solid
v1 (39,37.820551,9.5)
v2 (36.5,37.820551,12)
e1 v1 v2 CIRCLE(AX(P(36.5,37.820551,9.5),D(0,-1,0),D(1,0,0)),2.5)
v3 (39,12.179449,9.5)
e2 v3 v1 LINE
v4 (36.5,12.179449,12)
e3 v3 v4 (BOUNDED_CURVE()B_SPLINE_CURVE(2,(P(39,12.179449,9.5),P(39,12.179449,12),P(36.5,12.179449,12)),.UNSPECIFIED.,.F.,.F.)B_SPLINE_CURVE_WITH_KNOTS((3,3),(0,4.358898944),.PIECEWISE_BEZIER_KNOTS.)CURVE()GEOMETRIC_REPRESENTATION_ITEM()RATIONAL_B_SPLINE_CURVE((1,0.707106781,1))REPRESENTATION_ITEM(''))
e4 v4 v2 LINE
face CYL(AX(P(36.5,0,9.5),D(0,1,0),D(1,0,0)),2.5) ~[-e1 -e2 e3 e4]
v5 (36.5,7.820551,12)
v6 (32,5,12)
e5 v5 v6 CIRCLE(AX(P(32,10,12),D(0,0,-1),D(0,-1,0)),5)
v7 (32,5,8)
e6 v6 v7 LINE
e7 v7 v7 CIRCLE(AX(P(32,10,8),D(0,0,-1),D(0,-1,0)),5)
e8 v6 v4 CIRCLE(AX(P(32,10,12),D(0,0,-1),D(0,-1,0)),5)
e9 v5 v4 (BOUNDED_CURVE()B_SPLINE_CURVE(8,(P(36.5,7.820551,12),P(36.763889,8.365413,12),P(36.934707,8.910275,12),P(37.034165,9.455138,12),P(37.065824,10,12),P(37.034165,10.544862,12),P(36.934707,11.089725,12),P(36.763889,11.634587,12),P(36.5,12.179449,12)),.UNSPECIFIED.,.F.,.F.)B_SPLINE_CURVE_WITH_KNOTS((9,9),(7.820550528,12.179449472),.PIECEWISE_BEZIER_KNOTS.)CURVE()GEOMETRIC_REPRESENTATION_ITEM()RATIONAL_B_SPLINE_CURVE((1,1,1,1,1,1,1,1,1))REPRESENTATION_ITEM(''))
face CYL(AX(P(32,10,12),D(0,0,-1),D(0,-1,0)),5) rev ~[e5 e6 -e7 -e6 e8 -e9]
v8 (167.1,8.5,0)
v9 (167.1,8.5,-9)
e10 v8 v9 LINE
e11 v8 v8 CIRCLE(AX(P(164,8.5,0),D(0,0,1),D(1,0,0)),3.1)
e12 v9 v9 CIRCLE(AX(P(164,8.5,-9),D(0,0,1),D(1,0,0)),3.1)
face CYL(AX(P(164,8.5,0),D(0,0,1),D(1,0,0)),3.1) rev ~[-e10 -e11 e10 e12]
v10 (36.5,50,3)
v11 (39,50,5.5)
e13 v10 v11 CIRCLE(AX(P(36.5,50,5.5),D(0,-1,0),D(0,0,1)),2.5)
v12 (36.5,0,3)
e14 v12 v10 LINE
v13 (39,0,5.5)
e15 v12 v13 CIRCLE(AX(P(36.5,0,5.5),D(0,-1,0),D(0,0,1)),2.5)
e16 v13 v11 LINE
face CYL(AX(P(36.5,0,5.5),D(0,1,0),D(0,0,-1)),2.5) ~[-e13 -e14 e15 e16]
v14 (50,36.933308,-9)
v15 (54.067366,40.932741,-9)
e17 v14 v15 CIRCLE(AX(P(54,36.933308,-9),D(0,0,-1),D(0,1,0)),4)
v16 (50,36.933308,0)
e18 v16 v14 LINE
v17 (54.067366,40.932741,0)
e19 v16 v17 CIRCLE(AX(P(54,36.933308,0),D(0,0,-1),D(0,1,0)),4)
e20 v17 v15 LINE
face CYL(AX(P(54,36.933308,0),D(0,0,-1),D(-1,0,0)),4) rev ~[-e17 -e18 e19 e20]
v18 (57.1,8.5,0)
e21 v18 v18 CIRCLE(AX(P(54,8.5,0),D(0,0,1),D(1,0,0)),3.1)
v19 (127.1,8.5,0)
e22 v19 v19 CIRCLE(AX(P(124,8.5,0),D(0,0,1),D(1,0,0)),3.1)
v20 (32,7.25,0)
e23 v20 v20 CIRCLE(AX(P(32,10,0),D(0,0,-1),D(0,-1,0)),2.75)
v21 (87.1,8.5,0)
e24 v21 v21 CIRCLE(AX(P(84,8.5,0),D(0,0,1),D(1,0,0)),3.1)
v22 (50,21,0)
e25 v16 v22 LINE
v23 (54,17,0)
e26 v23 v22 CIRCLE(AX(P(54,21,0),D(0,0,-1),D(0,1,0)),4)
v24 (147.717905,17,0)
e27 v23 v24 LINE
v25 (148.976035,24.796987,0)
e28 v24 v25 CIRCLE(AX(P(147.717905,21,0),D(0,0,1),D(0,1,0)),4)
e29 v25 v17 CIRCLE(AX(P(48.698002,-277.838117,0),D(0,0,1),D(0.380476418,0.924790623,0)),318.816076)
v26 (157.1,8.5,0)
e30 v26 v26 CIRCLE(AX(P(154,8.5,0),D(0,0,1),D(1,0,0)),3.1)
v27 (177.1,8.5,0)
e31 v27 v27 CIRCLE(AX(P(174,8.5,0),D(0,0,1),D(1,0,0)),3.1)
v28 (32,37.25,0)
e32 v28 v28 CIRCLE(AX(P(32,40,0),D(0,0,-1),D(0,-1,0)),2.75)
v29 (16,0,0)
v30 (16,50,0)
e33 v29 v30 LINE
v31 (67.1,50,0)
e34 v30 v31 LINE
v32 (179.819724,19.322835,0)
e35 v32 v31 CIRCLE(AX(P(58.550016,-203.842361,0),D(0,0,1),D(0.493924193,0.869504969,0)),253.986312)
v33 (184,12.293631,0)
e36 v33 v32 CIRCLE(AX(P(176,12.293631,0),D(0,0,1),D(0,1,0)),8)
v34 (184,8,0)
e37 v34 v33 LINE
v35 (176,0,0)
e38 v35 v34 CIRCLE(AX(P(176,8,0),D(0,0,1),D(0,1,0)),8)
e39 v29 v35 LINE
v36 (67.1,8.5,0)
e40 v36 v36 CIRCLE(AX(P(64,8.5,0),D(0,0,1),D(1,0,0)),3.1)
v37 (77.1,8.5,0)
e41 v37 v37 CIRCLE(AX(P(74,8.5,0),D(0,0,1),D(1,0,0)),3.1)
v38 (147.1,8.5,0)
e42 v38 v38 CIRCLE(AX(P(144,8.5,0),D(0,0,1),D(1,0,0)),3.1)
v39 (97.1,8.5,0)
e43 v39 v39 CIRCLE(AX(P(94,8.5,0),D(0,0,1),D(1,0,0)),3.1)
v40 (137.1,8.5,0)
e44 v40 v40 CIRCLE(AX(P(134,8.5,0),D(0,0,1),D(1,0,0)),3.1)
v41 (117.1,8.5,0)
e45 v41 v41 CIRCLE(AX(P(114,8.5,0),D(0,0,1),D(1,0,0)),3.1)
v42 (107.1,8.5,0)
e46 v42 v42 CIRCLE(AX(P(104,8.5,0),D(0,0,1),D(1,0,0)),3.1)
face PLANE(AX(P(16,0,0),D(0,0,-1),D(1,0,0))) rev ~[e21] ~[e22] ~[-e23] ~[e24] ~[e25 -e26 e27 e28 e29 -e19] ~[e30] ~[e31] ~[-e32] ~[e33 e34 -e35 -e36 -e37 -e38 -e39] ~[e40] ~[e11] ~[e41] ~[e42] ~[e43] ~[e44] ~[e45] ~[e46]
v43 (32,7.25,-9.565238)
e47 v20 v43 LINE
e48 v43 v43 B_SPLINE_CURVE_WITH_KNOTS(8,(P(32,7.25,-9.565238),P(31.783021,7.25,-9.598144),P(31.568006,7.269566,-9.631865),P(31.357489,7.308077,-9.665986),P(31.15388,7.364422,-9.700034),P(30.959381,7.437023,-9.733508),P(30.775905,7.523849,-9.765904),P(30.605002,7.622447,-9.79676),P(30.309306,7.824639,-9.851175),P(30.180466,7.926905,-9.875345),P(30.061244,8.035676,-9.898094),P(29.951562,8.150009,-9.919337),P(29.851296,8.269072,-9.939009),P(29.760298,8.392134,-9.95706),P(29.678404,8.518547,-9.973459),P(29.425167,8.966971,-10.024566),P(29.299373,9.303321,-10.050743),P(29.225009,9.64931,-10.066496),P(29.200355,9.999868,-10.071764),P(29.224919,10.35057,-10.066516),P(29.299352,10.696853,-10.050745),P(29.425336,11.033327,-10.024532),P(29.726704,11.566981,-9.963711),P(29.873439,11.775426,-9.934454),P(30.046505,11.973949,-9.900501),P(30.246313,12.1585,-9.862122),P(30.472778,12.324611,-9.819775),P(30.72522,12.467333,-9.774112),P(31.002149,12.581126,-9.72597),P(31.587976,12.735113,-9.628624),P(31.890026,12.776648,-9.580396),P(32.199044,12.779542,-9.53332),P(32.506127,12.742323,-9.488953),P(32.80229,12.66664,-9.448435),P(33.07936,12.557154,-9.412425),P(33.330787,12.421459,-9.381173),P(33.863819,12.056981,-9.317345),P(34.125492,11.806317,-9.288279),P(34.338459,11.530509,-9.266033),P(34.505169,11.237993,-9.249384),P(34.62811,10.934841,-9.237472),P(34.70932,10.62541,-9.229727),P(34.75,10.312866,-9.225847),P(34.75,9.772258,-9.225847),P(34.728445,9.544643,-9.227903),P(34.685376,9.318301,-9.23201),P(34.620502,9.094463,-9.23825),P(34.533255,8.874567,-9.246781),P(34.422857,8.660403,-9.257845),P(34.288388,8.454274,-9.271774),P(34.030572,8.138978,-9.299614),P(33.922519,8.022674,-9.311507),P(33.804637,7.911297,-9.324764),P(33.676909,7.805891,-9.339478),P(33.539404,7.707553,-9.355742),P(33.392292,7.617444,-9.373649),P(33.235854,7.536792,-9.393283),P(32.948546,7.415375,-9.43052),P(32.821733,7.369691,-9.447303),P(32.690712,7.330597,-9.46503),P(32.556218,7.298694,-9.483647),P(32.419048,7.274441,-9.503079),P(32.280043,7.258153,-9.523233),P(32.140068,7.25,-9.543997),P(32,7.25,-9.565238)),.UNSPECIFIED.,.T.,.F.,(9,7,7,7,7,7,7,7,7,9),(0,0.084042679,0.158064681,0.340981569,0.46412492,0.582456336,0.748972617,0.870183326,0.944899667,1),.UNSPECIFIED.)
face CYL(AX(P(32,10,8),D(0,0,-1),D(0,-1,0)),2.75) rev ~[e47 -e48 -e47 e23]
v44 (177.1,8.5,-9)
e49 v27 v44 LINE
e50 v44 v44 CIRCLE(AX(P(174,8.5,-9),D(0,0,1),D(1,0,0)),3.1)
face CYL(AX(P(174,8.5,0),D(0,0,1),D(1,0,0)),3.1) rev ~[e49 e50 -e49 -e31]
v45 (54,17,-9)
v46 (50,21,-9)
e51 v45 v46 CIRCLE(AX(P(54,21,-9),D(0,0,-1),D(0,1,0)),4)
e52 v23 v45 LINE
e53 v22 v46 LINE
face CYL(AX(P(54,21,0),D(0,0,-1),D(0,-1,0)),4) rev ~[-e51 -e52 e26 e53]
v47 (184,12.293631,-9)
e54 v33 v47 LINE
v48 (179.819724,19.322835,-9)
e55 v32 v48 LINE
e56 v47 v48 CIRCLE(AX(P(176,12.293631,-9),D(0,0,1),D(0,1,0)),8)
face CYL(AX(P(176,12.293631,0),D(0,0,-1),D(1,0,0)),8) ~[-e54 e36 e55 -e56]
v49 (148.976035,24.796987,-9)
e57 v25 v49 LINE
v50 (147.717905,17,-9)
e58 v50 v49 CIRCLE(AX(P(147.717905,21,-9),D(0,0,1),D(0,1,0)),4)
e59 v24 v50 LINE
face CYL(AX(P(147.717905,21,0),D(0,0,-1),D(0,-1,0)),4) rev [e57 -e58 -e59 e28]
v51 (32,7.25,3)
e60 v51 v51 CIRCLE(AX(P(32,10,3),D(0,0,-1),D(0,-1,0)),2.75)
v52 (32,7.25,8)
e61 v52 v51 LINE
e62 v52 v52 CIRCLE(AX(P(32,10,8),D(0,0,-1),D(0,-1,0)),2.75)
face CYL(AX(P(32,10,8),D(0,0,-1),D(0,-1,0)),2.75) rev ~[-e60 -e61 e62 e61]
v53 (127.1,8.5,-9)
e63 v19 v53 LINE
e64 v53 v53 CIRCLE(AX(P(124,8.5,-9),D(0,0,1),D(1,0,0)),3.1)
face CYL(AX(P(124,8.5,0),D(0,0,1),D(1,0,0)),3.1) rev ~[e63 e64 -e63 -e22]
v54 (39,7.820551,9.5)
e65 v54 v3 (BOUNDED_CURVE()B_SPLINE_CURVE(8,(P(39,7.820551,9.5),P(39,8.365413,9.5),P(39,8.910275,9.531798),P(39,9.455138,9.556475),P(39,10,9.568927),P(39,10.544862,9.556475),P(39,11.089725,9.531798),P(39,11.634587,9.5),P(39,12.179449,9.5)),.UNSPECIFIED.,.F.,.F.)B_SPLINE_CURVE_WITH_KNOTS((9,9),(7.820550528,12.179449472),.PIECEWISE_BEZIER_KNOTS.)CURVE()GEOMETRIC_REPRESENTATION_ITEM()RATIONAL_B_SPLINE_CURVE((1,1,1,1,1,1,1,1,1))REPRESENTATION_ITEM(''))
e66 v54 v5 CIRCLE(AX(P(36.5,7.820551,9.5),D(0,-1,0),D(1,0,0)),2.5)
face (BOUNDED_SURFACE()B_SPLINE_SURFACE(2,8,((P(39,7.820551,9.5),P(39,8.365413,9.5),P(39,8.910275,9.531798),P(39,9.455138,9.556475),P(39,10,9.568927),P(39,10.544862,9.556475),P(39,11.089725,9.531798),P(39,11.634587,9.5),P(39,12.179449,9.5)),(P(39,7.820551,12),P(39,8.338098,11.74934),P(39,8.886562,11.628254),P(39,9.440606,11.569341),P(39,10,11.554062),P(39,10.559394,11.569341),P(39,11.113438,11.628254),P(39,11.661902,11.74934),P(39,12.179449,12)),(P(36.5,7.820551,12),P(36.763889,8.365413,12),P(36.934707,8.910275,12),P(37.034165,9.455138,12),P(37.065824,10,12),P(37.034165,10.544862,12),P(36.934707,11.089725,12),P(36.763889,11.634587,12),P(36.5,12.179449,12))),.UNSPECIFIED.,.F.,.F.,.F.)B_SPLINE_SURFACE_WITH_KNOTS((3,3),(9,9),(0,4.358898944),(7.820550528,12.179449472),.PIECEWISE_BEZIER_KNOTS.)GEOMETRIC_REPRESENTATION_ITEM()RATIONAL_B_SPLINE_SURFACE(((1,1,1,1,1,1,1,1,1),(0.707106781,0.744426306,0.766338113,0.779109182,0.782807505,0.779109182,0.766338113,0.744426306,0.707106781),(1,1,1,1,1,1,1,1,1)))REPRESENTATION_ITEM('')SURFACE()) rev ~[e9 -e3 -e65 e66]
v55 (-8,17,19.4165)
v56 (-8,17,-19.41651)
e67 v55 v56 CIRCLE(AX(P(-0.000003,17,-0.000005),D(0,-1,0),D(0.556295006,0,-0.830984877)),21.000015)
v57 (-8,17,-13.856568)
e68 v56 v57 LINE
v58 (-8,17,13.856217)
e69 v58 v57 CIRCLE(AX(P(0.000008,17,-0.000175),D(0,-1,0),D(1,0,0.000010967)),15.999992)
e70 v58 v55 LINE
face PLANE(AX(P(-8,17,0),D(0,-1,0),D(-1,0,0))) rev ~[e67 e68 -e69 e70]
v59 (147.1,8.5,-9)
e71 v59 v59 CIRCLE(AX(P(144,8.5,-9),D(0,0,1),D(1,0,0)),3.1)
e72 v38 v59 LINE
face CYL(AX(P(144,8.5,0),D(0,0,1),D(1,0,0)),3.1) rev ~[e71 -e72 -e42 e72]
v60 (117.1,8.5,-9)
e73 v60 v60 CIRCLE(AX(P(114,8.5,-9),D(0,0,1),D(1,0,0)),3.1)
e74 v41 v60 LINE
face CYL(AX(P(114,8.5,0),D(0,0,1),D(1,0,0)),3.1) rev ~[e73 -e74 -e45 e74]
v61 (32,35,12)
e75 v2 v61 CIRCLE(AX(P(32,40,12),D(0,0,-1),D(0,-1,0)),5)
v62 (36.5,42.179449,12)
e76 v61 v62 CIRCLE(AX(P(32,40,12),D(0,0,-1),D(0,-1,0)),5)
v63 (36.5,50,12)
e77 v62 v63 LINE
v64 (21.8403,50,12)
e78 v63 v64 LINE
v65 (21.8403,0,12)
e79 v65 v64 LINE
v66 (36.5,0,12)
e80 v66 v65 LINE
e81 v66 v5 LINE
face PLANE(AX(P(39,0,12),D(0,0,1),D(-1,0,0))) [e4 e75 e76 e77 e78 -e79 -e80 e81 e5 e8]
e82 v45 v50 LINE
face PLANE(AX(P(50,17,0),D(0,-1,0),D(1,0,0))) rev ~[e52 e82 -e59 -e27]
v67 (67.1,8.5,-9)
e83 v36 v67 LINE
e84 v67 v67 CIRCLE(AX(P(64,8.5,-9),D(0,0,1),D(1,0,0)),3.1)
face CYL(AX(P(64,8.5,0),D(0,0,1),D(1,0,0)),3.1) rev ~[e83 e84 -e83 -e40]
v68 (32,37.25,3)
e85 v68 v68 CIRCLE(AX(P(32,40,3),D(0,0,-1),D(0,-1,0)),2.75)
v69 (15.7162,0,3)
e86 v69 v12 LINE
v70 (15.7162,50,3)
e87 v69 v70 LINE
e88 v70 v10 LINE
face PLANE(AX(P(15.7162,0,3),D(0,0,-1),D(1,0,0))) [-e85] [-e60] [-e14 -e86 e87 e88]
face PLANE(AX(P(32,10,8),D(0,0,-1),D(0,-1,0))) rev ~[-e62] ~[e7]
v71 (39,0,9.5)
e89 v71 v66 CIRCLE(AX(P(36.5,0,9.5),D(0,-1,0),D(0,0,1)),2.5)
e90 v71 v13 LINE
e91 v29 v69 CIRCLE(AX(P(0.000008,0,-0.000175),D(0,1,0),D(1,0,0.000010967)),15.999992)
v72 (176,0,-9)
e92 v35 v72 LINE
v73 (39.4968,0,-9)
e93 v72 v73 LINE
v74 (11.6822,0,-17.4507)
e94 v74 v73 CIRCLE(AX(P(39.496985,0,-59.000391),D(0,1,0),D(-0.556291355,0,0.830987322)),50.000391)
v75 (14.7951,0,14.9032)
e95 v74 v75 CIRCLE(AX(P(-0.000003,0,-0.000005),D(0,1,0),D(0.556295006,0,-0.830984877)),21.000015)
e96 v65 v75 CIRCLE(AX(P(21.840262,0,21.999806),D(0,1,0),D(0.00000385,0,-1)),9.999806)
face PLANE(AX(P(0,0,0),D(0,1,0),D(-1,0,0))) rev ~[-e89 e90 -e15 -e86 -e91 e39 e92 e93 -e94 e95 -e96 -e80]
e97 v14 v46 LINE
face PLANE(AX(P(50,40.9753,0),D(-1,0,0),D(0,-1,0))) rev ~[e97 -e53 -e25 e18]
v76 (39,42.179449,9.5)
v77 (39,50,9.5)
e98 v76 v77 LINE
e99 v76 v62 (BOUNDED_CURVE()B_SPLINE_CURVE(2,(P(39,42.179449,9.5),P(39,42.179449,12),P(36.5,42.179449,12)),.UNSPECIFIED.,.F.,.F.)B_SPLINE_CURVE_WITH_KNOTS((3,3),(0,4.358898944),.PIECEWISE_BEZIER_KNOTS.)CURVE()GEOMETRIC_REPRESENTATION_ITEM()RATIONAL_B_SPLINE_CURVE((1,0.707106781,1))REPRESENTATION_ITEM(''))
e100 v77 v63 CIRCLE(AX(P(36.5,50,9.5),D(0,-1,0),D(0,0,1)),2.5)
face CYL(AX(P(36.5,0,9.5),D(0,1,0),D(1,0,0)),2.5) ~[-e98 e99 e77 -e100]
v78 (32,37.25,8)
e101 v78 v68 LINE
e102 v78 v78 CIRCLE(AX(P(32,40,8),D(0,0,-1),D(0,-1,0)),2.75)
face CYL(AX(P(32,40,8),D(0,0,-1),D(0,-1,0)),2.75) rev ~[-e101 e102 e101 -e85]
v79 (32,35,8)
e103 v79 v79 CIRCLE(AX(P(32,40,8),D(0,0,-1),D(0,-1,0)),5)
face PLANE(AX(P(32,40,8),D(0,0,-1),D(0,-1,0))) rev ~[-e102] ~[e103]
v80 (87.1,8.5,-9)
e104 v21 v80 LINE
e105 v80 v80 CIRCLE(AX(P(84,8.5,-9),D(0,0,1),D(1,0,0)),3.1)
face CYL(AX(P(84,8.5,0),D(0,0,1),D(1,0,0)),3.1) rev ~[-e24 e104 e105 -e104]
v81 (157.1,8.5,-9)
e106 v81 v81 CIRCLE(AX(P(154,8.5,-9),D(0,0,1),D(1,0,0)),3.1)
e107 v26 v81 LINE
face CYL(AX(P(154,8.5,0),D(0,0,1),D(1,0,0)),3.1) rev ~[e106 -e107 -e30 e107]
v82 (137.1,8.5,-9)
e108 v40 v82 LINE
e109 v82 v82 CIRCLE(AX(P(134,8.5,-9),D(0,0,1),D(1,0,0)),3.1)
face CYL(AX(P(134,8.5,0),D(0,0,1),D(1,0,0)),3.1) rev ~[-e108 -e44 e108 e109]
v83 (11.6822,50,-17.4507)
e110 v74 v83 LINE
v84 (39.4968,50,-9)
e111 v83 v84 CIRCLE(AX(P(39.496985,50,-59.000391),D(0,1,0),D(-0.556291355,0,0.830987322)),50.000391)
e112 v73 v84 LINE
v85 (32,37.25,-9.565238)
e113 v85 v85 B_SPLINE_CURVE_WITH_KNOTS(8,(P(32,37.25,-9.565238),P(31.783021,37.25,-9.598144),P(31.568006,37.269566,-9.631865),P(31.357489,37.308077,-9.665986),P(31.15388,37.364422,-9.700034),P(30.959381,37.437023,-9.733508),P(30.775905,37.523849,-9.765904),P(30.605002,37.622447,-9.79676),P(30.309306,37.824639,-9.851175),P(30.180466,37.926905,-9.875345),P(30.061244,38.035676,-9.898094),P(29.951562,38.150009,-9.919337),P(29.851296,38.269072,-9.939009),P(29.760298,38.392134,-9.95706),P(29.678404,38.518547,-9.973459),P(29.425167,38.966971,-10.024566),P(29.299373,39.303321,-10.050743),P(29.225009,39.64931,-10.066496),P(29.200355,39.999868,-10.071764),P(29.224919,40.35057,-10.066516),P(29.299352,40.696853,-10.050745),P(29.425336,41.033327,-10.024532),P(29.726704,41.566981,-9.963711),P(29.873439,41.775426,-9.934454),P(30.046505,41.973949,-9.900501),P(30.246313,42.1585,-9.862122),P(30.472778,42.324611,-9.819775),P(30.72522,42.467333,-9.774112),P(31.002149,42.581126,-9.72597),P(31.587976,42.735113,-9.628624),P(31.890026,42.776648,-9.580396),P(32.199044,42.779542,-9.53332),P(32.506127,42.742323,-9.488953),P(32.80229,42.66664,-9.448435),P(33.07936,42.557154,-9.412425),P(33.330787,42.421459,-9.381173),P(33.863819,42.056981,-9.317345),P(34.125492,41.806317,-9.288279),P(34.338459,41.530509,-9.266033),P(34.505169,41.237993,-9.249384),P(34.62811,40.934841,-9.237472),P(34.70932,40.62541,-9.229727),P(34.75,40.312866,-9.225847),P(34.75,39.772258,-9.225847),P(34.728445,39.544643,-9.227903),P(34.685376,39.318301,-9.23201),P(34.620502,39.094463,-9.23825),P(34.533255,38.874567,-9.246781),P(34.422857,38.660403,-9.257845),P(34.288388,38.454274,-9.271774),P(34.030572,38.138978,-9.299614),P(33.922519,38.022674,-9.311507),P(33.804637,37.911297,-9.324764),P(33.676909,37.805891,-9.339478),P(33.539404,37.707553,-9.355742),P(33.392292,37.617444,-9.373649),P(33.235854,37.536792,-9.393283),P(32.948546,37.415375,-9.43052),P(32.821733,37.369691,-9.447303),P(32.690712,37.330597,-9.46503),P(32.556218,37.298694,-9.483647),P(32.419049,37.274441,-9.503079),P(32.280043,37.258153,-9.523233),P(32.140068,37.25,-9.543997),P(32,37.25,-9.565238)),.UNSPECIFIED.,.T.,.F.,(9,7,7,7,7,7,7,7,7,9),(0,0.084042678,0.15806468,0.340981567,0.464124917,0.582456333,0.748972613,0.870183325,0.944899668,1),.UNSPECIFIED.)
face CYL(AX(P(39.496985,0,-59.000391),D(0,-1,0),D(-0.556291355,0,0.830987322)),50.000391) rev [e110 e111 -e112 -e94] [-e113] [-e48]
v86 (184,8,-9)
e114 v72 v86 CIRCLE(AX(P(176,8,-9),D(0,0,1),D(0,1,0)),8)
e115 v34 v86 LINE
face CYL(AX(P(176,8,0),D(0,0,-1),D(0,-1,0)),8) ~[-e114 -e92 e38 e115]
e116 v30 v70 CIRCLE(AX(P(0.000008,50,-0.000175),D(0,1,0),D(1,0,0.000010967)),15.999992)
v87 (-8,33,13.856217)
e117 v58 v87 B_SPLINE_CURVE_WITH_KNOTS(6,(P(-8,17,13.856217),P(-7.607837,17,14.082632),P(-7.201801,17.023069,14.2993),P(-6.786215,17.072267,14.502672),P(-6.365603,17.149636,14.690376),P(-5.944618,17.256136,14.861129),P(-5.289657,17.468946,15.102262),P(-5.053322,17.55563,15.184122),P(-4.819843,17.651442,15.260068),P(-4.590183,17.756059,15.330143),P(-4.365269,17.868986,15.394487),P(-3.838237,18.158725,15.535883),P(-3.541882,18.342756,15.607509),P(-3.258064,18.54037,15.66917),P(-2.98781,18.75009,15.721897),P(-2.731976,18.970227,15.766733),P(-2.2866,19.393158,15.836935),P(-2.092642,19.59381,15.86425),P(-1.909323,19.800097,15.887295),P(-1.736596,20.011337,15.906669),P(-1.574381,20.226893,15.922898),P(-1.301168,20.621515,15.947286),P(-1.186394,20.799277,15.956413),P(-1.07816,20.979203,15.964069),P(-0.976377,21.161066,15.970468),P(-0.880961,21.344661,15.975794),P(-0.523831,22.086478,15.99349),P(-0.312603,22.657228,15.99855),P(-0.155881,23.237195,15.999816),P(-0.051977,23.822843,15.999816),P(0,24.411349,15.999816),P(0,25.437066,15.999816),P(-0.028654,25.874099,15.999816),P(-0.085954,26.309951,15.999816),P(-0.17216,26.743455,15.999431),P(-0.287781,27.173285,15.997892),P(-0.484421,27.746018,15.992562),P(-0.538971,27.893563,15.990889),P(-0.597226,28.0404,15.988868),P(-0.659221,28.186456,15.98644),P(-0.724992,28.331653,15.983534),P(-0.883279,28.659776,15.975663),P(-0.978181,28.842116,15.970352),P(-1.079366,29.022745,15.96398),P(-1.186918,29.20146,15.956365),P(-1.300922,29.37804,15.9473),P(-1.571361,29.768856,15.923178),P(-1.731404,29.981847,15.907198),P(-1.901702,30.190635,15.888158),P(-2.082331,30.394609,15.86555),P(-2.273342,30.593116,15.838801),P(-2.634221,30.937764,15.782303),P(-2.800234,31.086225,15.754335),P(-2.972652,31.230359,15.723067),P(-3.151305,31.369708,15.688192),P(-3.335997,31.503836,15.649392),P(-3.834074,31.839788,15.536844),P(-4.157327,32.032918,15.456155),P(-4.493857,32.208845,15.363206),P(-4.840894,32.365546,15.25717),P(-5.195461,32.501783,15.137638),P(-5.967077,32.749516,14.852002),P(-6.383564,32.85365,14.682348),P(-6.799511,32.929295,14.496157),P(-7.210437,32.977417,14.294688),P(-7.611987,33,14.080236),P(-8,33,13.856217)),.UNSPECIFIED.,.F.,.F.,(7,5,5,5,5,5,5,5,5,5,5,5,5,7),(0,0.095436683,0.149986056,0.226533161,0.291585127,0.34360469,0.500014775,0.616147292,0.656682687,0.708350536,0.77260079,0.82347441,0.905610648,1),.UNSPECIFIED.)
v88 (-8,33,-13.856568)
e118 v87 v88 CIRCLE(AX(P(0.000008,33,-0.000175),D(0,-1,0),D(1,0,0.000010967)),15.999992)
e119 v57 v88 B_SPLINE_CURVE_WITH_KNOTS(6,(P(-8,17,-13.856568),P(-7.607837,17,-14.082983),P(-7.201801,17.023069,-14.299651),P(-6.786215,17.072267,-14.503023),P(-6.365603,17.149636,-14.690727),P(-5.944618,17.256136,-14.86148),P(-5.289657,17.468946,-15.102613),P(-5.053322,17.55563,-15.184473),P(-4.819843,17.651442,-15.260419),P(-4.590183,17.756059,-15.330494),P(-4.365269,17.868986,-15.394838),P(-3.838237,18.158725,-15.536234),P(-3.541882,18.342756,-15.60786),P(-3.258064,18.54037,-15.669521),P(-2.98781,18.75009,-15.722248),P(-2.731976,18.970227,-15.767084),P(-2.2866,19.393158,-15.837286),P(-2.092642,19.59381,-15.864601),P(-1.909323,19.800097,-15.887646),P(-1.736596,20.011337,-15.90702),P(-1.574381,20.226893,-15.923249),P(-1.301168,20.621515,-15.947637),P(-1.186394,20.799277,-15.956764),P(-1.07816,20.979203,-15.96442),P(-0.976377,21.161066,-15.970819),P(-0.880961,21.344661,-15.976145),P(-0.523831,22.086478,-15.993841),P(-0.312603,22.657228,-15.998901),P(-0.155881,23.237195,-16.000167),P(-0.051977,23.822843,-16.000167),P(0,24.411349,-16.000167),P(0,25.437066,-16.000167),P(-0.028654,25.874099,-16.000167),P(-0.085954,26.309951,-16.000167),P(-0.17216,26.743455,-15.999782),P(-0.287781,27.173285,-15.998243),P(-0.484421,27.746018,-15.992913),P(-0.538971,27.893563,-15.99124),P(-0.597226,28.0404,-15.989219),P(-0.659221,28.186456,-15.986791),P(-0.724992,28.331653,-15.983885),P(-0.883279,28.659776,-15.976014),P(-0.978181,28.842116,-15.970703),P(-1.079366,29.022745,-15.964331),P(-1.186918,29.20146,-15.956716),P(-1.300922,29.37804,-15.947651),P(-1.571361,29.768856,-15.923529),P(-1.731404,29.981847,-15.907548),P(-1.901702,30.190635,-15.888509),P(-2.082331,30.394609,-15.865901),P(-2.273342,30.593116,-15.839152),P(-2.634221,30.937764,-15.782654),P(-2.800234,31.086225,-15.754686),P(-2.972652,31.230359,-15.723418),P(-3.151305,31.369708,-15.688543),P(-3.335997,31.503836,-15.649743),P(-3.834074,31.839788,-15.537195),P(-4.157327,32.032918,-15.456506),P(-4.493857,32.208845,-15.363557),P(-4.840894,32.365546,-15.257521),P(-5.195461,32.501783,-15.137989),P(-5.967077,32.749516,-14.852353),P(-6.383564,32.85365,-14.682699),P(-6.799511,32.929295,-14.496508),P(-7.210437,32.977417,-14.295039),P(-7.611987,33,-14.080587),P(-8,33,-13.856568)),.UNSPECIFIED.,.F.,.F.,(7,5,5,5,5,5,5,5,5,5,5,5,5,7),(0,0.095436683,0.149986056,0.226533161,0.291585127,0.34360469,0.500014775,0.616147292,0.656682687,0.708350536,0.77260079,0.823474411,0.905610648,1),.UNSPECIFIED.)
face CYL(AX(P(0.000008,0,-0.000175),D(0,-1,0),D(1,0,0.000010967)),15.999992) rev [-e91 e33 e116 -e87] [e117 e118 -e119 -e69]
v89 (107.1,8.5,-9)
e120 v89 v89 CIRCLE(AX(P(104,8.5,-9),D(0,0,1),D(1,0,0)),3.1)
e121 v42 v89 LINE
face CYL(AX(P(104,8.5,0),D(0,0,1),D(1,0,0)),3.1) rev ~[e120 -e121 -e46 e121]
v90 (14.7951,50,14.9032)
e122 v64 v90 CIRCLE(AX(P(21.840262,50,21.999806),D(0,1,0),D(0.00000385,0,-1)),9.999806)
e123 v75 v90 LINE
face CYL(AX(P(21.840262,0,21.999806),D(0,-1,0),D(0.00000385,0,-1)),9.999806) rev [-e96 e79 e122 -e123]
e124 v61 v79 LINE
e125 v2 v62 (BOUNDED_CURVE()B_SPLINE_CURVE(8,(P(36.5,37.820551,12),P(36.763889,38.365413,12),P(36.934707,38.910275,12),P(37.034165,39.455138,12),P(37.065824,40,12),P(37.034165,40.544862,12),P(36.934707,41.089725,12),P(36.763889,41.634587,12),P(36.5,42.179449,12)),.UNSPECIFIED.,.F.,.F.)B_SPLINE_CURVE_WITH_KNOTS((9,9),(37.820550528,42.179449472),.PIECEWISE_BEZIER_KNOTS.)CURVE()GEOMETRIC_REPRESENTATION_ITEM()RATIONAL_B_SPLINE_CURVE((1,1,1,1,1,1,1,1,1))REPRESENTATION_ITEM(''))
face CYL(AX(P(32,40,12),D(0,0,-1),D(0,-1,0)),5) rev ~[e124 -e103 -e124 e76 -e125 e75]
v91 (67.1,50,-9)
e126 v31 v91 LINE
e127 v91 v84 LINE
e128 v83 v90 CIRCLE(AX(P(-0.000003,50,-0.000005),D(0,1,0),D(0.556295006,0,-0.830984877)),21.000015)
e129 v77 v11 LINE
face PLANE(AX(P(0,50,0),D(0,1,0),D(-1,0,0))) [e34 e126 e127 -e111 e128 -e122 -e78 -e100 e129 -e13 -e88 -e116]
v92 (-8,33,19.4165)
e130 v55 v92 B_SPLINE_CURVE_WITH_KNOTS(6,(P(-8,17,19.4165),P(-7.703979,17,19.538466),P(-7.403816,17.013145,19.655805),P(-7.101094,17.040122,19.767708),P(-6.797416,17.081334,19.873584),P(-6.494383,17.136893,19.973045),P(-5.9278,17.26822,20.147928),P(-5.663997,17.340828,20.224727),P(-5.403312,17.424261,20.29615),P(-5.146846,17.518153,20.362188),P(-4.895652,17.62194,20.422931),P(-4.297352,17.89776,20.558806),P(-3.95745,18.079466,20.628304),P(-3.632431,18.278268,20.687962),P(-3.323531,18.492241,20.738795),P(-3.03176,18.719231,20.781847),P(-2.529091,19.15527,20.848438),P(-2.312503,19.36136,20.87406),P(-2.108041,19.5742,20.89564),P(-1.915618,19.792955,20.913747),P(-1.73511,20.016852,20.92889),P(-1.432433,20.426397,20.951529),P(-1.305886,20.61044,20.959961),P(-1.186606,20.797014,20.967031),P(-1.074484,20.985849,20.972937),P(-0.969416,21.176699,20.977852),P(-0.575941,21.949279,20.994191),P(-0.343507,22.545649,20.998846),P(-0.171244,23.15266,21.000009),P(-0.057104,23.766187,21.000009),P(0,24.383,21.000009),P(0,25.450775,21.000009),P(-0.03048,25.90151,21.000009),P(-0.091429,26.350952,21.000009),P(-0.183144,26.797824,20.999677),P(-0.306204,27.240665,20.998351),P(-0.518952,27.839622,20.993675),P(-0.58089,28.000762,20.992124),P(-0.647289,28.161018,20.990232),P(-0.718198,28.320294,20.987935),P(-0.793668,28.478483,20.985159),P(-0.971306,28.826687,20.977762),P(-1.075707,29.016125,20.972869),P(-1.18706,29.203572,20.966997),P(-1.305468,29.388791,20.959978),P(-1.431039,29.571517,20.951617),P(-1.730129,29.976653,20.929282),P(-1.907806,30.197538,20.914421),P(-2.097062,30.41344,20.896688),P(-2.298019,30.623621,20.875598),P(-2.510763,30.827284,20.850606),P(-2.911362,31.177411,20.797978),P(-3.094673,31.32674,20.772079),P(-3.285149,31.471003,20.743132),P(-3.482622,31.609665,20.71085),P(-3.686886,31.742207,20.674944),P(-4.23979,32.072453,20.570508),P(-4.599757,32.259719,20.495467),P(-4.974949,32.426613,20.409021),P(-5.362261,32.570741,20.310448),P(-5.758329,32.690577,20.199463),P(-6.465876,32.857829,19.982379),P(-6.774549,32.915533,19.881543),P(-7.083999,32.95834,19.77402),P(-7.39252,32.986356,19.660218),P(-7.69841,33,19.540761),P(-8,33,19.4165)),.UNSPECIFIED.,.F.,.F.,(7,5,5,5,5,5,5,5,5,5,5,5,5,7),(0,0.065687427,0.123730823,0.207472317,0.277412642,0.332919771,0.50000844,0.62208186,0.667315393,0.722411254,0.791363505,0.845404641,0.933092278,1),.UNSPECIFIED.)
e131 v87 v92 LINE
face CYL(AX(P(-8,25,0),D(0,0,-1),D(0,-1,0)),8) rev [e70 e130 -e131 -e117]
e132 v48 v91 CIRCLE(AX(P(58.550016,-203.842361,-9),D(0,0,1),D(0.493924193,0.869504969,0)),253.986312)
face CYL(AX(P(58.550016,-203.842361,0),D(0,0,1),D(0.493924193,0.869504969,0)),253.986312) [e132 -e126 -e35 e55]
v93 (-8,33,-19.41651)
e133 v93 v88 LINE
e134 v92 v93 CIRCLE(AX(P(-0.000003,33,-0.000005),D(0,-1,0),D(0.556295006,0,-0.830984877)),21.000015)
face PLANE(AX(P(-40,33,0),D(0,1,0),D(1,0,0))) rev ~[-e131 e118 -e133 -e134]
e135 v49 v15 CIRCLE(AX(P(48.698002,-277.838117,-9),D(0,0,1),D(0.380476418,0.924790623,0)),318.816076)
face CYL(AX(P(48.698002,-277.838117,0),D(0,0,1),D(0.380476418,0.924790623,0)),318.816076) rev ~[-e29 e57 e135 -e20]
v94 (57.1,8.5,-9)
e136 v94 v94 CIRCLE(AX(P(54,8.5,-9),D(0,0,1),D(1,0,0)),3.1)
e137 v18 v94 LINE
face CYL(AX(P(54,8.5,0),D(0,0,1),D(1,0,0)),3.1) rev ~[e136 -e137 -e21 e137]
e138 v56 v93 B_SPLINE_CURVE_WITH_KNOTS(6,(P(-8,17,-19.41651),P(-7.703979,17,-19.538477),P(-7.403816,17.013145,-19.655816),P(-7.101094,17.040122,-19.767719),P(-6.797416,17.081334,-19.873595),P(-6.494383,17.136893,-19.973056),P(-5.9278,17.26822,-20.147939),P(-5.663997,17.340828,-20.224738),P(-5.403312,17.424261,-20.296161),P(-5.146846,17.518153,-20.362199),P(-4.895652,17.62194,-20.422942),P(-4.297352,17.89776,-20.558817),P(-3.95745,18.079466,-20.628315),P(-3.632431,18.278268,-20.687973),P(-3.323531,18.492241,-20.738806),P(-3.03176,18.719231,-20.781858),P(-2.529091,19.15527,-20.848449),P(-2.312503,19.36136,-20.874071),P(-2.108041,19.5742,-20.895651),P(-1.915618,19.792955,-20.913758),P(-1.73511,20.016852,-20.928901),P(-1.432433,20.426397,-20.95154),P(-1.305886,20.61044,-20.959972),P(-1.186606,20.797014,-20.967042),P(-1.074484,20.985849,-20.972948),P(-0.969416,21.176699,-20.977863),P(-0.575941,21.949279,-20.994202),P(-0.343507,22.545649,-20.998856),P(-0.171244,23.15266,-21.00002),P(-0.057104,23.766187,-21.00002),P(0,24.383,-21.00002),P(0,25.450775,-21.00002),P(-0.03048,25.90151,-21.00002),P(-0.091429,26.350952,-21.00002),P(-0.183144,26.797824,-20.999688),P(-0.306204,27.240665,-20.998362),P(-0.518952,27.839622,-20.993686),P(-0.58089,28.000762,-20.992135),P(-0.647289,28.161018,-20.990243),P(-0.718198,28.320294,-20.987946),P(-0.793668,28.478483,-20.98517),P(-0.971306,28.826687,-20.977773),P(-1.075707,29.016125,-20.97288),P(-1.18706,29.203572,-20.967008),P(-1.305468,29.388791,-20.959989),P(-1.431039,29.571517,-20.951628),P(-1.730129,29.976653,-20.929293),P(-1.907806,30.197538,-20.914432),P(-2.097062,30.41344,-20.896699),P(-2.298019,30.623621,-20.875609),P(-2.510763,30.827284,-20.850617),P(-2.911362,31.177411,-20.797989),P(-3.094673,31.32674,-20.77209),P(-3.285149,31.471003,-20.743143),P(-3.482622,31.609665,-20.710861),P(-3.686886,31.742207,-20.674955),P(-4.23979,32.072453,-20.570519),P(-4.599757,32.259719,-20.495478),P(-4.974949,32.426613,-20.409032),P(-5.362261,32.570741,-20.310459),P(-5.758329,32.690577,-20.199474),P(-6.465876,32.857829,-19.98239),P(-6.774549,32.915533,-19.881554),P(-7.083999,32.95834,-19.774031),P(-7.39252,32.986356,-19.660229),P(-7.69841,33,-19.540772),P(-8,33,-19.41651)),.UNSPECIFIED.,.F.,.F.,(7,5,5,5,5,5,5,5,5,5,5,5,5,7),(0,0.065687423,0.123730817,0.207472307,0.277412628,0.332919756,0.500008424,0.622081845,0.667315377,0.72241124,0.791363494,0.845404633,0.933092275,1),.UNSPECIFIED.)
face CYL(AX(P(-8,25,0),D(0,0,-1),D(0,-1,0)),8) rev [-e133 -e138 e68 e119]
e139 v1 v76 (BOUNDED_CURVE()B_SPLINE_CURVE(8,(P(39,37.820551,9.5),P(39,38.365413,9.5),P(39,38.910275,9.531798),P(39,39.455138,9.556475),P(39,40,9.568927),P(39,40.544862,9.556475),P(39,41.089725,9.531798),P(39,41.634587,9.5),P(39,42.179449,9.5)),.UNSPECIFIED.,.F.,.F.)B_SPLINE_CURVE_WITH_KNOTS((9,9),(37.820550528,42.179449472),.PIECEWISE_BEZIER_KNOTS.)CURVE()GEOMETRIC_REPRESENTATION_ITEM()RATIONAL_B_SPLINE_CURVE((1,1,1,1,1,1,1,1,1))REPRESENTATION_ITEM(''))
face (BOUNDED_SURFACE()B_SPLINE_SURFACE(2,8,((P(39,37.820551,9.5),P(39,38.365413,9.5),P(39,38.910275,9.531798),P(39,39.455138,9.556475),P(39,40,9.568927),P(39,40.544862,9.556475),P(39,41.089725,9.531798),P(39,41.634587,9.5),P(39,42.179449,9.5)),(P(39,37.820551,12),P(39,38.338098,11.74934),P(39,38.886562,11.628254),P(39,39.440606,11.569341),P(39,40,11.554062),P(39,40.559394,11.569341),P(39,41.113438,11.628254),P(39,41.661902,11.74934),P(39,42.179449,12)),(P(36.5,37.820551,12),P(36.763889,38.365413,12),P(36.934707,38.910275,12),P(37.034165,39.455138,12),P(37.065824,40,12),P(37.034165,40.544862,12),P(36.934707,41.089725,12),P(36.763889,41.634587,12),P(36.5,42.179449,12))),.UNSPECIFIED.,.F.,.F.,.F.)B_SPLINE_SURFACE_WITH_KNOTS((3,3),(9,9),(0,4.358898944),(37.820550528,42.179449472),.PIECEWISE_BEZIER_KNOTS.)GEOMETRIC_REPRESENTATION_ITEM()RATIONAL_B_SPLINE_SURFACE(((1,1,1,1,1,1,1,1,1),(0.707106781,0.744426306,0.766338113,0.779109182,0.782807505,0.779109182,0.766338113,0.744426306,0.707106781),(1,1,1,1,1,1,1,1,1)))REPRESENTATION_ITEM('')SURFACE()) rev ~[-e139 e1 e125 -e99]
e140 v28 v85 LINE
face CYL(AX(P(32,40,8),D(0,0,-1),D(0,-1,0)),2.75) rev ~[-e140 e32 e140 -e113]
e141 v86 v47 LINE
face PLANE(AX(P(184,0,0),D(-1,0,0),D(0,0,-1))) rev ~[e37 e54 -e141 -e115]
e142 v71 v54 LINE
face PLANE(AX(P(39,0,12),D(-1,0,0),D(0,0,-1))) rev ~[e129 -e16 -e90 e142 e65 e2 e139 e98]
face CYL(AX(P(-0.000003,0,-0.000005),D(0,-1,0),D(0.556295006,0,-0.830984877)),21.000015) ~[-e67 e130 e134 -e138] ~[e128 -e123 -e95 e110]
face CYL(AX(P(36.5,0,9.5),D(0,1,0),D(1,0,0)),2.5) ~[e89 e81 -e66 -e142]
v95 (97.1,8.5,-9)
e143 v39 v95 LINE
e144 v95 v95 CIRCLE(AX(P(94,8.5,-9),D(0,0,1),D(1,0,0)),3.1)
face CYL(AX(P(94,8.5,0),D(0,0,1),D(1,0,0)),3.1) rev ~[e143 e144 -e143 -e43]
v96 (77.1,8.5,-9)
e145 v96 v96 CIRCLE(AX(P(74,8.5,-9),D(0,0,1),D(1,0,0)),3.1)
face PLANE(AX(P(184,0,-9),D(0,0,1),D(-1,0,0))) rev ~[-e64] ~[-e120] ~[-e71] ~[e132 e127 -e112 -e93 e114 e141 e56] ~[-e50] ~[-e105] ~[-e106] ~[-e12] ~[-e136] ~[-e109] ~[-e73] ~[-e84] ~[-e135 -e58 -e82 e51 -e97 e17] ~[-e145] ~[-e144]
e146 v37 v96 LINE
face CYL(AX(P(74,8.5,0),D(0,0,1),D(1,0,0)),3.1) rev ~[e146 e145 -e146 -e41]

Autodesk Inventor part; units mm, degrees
ref_plane "YZ Plane" through (0, 0, 0) normal (1, 0, 0) x (0, 1, 0)
ref_plane "XZ Plane" through (0, 0, 0) normal (0, 1, 0) x (-1, 0, 0)
ref_plane "XY Plane" through (0, 0, 0) normal (0, 0, 1) x (1, 0, 0)
sketch "Sketch1" plane through (0, 0, 0) normal (0, 1, 0) x (-1, 0, 0)
  arc A0 (-16, 0) -> (-15.7162, 3) centre (0, 0) ccw
  arc A1 (-11.6822, -17.4507) -> (-14.7951, 14.9032) centre (0, 0) ccw
  line L0 (-16, 0) -> (-184, 0)
  line L1 (-184, 0) -> (-184, -9)
  line L2 (-184, -9) -> (-39.4968, -9)
  arc A2 (-11.6822, -17.4507) -> (-39.4968, -9) centre (-39.4968, -59) ccw
  line L3 (-39, 12) -> (-39, 3)
  line L4 (0, 0) -> (0, 3)
  line L5 (-15.7162, 3) -> (-39, 3)
  line L6 (-39, 3) -> (-39, 12)
  line L7 (-39, 12) -> (-21.8403, 12)
  arc A3 (-21.8403, 12) -> (-14.7951, 14.9032) centre (-21.8403, 22) ccw
  point P0 (-18.9737, -9)
  point P1 (-17.2337, 12)
  dimension "d0" = 32
  dimension "d1" = 42
  dimension "d2" = 168
  dimension "d3" = 9
  dimension "d4" = 50
  dimension "d7" = 3
  dimension "d8" = 39
  dimension "d9" = 9
  dimension "d10" = 3
  dimension "d11" = 39
  dimension "d12" = 10
extrude "Extrusion1" add sketch "Sketch1" along normal blind 50
hole "Hole1" at (32, 10, 12) direction (0, 0, -1) diameter 5.5 end through all counterbore diameter 10 counterbore depth 4
hole "Hole2" at (32, 40, 12) direction (0, 0, -1) diameter 5.5 end through all counterbore diameter 10 counterbore depth 4
sketch "Sketch3" plane through (16, 0, 0) normal (0, 0, 1) x (1, 0, 0)
  point P0 (-16, 0)
fillet "Fillet1" radius 2.5 2 edges at (39, 25, 12) (39, 25, 3)
sketch "Sketch4" plane through (0, 0, 0) normal (0, 1, 0) x (-1, 0, 0)
  point P0 (0, 0)
sketch "Sketch5" plane through (0, 0, 0) normal (0, 0, 1) x (1, 0, 0)
  line L0 (0, 0) -> (0, 17)
  line L1 (14.7951, 50) -> (-21, 50) projected
  line L2 (-8, 17) -> (-40, 17)
  line L3 (-40, 17) -> (-40, 33)
  line L4 (-40, 33) -> (-8, 33)
  line L5 (0, 25) -> (0, 25)
  arc A0 (0, 25) -> (-8, 33) centre (-8, 25) ccw
  arc A1 (-8, 17) -> (0, 25) centre (-8, 25) ccw
  point P0 (11.6822, 50)
  point P1 (0, 33)
  dimension "d41" = 17
  dimension "d42" = 40
  dimension "d43" = 16
  dimension "d44" = 40
  dimension "d45" = 8
extrude "Extrusion3" cut sketch "Sketch5" along normal through all both and the other way through all
sketch "Sketch9" plane through (0, 0, 0) normal (0, 0, 1) x (1, 0, 0)
  line L0 (-16, 0) -> (16, 0)
  circle A0 centre (74, 8.5) radius 3.1
  line L1 (50, 40.9753) -> (50, 17)
  circle A1 centre (84, 8.5) radius 3.1
  arc A2 (67.1, 50) -> (50, 50) centre (58.55, -203.8424) ccw
  circle A3 centre (94, 8.5) radius 3.1
  circle A4 centre (104, 8.5) radius 3.1
  circle A5 centre (114, 8.5) radius 3.1
  circle A6 centre (124, 8.5) radius 3.1
  line L2 (50, 17) -> (170, 17)
  arc A7 (170, 17) -> (50, 40.9753) centre (48.6984, -277.8368) ccw
  line L3 (50, 50) -> (184, 50)
  arc A8 (184, 17) -> (50, 50) centre (58.55, -203.8424) ccw
  line L4 (67.1, 50) -> (189.3862, 50) construction
  line L5 (184, 50) -> (184, 17)
  circle A9 centre (64, 8.5) radius 3.1
  circle A10 centre (54, 8.5) radius 3.1
  circle A11 centre (144, 8.5) radius 3.1
  circle A12 centre (154, 8.5) radius 3.1
  circle A13 centre (164, 8.5) radius 3.1
  line L6 (184, 50) -> (184, 17)
  circle A14 centre (174, 8.5) radius 3.1
  circle A15 centre (134, 8.5) radius 3.1
  line L7 (0, 50) -> (0, 0)
  point P0 (0, 0)
  point P1 (-0.2838, 50)
extrude "Extrusion5" cut sketch "Sketch9" against normal through all contours A0 | A7 L2 L1 | A1 | L3 L5 A8 | A3 | A4 | A5 | A6 | A9 | A10 | A11 | A12 | A13 | A14 | A15
fillet "Fillet2" radius 4 3 edges at (50, 40.9753, -4.5) (50, 17, -4.5) (170, 17, -4.5)
fillet "Fillet3" radius 8 2 edges at (184, 17, -4.5) (184, 0, -4.5)
properties part number "suporte-rodas" material "Aluminium AW-7020"
